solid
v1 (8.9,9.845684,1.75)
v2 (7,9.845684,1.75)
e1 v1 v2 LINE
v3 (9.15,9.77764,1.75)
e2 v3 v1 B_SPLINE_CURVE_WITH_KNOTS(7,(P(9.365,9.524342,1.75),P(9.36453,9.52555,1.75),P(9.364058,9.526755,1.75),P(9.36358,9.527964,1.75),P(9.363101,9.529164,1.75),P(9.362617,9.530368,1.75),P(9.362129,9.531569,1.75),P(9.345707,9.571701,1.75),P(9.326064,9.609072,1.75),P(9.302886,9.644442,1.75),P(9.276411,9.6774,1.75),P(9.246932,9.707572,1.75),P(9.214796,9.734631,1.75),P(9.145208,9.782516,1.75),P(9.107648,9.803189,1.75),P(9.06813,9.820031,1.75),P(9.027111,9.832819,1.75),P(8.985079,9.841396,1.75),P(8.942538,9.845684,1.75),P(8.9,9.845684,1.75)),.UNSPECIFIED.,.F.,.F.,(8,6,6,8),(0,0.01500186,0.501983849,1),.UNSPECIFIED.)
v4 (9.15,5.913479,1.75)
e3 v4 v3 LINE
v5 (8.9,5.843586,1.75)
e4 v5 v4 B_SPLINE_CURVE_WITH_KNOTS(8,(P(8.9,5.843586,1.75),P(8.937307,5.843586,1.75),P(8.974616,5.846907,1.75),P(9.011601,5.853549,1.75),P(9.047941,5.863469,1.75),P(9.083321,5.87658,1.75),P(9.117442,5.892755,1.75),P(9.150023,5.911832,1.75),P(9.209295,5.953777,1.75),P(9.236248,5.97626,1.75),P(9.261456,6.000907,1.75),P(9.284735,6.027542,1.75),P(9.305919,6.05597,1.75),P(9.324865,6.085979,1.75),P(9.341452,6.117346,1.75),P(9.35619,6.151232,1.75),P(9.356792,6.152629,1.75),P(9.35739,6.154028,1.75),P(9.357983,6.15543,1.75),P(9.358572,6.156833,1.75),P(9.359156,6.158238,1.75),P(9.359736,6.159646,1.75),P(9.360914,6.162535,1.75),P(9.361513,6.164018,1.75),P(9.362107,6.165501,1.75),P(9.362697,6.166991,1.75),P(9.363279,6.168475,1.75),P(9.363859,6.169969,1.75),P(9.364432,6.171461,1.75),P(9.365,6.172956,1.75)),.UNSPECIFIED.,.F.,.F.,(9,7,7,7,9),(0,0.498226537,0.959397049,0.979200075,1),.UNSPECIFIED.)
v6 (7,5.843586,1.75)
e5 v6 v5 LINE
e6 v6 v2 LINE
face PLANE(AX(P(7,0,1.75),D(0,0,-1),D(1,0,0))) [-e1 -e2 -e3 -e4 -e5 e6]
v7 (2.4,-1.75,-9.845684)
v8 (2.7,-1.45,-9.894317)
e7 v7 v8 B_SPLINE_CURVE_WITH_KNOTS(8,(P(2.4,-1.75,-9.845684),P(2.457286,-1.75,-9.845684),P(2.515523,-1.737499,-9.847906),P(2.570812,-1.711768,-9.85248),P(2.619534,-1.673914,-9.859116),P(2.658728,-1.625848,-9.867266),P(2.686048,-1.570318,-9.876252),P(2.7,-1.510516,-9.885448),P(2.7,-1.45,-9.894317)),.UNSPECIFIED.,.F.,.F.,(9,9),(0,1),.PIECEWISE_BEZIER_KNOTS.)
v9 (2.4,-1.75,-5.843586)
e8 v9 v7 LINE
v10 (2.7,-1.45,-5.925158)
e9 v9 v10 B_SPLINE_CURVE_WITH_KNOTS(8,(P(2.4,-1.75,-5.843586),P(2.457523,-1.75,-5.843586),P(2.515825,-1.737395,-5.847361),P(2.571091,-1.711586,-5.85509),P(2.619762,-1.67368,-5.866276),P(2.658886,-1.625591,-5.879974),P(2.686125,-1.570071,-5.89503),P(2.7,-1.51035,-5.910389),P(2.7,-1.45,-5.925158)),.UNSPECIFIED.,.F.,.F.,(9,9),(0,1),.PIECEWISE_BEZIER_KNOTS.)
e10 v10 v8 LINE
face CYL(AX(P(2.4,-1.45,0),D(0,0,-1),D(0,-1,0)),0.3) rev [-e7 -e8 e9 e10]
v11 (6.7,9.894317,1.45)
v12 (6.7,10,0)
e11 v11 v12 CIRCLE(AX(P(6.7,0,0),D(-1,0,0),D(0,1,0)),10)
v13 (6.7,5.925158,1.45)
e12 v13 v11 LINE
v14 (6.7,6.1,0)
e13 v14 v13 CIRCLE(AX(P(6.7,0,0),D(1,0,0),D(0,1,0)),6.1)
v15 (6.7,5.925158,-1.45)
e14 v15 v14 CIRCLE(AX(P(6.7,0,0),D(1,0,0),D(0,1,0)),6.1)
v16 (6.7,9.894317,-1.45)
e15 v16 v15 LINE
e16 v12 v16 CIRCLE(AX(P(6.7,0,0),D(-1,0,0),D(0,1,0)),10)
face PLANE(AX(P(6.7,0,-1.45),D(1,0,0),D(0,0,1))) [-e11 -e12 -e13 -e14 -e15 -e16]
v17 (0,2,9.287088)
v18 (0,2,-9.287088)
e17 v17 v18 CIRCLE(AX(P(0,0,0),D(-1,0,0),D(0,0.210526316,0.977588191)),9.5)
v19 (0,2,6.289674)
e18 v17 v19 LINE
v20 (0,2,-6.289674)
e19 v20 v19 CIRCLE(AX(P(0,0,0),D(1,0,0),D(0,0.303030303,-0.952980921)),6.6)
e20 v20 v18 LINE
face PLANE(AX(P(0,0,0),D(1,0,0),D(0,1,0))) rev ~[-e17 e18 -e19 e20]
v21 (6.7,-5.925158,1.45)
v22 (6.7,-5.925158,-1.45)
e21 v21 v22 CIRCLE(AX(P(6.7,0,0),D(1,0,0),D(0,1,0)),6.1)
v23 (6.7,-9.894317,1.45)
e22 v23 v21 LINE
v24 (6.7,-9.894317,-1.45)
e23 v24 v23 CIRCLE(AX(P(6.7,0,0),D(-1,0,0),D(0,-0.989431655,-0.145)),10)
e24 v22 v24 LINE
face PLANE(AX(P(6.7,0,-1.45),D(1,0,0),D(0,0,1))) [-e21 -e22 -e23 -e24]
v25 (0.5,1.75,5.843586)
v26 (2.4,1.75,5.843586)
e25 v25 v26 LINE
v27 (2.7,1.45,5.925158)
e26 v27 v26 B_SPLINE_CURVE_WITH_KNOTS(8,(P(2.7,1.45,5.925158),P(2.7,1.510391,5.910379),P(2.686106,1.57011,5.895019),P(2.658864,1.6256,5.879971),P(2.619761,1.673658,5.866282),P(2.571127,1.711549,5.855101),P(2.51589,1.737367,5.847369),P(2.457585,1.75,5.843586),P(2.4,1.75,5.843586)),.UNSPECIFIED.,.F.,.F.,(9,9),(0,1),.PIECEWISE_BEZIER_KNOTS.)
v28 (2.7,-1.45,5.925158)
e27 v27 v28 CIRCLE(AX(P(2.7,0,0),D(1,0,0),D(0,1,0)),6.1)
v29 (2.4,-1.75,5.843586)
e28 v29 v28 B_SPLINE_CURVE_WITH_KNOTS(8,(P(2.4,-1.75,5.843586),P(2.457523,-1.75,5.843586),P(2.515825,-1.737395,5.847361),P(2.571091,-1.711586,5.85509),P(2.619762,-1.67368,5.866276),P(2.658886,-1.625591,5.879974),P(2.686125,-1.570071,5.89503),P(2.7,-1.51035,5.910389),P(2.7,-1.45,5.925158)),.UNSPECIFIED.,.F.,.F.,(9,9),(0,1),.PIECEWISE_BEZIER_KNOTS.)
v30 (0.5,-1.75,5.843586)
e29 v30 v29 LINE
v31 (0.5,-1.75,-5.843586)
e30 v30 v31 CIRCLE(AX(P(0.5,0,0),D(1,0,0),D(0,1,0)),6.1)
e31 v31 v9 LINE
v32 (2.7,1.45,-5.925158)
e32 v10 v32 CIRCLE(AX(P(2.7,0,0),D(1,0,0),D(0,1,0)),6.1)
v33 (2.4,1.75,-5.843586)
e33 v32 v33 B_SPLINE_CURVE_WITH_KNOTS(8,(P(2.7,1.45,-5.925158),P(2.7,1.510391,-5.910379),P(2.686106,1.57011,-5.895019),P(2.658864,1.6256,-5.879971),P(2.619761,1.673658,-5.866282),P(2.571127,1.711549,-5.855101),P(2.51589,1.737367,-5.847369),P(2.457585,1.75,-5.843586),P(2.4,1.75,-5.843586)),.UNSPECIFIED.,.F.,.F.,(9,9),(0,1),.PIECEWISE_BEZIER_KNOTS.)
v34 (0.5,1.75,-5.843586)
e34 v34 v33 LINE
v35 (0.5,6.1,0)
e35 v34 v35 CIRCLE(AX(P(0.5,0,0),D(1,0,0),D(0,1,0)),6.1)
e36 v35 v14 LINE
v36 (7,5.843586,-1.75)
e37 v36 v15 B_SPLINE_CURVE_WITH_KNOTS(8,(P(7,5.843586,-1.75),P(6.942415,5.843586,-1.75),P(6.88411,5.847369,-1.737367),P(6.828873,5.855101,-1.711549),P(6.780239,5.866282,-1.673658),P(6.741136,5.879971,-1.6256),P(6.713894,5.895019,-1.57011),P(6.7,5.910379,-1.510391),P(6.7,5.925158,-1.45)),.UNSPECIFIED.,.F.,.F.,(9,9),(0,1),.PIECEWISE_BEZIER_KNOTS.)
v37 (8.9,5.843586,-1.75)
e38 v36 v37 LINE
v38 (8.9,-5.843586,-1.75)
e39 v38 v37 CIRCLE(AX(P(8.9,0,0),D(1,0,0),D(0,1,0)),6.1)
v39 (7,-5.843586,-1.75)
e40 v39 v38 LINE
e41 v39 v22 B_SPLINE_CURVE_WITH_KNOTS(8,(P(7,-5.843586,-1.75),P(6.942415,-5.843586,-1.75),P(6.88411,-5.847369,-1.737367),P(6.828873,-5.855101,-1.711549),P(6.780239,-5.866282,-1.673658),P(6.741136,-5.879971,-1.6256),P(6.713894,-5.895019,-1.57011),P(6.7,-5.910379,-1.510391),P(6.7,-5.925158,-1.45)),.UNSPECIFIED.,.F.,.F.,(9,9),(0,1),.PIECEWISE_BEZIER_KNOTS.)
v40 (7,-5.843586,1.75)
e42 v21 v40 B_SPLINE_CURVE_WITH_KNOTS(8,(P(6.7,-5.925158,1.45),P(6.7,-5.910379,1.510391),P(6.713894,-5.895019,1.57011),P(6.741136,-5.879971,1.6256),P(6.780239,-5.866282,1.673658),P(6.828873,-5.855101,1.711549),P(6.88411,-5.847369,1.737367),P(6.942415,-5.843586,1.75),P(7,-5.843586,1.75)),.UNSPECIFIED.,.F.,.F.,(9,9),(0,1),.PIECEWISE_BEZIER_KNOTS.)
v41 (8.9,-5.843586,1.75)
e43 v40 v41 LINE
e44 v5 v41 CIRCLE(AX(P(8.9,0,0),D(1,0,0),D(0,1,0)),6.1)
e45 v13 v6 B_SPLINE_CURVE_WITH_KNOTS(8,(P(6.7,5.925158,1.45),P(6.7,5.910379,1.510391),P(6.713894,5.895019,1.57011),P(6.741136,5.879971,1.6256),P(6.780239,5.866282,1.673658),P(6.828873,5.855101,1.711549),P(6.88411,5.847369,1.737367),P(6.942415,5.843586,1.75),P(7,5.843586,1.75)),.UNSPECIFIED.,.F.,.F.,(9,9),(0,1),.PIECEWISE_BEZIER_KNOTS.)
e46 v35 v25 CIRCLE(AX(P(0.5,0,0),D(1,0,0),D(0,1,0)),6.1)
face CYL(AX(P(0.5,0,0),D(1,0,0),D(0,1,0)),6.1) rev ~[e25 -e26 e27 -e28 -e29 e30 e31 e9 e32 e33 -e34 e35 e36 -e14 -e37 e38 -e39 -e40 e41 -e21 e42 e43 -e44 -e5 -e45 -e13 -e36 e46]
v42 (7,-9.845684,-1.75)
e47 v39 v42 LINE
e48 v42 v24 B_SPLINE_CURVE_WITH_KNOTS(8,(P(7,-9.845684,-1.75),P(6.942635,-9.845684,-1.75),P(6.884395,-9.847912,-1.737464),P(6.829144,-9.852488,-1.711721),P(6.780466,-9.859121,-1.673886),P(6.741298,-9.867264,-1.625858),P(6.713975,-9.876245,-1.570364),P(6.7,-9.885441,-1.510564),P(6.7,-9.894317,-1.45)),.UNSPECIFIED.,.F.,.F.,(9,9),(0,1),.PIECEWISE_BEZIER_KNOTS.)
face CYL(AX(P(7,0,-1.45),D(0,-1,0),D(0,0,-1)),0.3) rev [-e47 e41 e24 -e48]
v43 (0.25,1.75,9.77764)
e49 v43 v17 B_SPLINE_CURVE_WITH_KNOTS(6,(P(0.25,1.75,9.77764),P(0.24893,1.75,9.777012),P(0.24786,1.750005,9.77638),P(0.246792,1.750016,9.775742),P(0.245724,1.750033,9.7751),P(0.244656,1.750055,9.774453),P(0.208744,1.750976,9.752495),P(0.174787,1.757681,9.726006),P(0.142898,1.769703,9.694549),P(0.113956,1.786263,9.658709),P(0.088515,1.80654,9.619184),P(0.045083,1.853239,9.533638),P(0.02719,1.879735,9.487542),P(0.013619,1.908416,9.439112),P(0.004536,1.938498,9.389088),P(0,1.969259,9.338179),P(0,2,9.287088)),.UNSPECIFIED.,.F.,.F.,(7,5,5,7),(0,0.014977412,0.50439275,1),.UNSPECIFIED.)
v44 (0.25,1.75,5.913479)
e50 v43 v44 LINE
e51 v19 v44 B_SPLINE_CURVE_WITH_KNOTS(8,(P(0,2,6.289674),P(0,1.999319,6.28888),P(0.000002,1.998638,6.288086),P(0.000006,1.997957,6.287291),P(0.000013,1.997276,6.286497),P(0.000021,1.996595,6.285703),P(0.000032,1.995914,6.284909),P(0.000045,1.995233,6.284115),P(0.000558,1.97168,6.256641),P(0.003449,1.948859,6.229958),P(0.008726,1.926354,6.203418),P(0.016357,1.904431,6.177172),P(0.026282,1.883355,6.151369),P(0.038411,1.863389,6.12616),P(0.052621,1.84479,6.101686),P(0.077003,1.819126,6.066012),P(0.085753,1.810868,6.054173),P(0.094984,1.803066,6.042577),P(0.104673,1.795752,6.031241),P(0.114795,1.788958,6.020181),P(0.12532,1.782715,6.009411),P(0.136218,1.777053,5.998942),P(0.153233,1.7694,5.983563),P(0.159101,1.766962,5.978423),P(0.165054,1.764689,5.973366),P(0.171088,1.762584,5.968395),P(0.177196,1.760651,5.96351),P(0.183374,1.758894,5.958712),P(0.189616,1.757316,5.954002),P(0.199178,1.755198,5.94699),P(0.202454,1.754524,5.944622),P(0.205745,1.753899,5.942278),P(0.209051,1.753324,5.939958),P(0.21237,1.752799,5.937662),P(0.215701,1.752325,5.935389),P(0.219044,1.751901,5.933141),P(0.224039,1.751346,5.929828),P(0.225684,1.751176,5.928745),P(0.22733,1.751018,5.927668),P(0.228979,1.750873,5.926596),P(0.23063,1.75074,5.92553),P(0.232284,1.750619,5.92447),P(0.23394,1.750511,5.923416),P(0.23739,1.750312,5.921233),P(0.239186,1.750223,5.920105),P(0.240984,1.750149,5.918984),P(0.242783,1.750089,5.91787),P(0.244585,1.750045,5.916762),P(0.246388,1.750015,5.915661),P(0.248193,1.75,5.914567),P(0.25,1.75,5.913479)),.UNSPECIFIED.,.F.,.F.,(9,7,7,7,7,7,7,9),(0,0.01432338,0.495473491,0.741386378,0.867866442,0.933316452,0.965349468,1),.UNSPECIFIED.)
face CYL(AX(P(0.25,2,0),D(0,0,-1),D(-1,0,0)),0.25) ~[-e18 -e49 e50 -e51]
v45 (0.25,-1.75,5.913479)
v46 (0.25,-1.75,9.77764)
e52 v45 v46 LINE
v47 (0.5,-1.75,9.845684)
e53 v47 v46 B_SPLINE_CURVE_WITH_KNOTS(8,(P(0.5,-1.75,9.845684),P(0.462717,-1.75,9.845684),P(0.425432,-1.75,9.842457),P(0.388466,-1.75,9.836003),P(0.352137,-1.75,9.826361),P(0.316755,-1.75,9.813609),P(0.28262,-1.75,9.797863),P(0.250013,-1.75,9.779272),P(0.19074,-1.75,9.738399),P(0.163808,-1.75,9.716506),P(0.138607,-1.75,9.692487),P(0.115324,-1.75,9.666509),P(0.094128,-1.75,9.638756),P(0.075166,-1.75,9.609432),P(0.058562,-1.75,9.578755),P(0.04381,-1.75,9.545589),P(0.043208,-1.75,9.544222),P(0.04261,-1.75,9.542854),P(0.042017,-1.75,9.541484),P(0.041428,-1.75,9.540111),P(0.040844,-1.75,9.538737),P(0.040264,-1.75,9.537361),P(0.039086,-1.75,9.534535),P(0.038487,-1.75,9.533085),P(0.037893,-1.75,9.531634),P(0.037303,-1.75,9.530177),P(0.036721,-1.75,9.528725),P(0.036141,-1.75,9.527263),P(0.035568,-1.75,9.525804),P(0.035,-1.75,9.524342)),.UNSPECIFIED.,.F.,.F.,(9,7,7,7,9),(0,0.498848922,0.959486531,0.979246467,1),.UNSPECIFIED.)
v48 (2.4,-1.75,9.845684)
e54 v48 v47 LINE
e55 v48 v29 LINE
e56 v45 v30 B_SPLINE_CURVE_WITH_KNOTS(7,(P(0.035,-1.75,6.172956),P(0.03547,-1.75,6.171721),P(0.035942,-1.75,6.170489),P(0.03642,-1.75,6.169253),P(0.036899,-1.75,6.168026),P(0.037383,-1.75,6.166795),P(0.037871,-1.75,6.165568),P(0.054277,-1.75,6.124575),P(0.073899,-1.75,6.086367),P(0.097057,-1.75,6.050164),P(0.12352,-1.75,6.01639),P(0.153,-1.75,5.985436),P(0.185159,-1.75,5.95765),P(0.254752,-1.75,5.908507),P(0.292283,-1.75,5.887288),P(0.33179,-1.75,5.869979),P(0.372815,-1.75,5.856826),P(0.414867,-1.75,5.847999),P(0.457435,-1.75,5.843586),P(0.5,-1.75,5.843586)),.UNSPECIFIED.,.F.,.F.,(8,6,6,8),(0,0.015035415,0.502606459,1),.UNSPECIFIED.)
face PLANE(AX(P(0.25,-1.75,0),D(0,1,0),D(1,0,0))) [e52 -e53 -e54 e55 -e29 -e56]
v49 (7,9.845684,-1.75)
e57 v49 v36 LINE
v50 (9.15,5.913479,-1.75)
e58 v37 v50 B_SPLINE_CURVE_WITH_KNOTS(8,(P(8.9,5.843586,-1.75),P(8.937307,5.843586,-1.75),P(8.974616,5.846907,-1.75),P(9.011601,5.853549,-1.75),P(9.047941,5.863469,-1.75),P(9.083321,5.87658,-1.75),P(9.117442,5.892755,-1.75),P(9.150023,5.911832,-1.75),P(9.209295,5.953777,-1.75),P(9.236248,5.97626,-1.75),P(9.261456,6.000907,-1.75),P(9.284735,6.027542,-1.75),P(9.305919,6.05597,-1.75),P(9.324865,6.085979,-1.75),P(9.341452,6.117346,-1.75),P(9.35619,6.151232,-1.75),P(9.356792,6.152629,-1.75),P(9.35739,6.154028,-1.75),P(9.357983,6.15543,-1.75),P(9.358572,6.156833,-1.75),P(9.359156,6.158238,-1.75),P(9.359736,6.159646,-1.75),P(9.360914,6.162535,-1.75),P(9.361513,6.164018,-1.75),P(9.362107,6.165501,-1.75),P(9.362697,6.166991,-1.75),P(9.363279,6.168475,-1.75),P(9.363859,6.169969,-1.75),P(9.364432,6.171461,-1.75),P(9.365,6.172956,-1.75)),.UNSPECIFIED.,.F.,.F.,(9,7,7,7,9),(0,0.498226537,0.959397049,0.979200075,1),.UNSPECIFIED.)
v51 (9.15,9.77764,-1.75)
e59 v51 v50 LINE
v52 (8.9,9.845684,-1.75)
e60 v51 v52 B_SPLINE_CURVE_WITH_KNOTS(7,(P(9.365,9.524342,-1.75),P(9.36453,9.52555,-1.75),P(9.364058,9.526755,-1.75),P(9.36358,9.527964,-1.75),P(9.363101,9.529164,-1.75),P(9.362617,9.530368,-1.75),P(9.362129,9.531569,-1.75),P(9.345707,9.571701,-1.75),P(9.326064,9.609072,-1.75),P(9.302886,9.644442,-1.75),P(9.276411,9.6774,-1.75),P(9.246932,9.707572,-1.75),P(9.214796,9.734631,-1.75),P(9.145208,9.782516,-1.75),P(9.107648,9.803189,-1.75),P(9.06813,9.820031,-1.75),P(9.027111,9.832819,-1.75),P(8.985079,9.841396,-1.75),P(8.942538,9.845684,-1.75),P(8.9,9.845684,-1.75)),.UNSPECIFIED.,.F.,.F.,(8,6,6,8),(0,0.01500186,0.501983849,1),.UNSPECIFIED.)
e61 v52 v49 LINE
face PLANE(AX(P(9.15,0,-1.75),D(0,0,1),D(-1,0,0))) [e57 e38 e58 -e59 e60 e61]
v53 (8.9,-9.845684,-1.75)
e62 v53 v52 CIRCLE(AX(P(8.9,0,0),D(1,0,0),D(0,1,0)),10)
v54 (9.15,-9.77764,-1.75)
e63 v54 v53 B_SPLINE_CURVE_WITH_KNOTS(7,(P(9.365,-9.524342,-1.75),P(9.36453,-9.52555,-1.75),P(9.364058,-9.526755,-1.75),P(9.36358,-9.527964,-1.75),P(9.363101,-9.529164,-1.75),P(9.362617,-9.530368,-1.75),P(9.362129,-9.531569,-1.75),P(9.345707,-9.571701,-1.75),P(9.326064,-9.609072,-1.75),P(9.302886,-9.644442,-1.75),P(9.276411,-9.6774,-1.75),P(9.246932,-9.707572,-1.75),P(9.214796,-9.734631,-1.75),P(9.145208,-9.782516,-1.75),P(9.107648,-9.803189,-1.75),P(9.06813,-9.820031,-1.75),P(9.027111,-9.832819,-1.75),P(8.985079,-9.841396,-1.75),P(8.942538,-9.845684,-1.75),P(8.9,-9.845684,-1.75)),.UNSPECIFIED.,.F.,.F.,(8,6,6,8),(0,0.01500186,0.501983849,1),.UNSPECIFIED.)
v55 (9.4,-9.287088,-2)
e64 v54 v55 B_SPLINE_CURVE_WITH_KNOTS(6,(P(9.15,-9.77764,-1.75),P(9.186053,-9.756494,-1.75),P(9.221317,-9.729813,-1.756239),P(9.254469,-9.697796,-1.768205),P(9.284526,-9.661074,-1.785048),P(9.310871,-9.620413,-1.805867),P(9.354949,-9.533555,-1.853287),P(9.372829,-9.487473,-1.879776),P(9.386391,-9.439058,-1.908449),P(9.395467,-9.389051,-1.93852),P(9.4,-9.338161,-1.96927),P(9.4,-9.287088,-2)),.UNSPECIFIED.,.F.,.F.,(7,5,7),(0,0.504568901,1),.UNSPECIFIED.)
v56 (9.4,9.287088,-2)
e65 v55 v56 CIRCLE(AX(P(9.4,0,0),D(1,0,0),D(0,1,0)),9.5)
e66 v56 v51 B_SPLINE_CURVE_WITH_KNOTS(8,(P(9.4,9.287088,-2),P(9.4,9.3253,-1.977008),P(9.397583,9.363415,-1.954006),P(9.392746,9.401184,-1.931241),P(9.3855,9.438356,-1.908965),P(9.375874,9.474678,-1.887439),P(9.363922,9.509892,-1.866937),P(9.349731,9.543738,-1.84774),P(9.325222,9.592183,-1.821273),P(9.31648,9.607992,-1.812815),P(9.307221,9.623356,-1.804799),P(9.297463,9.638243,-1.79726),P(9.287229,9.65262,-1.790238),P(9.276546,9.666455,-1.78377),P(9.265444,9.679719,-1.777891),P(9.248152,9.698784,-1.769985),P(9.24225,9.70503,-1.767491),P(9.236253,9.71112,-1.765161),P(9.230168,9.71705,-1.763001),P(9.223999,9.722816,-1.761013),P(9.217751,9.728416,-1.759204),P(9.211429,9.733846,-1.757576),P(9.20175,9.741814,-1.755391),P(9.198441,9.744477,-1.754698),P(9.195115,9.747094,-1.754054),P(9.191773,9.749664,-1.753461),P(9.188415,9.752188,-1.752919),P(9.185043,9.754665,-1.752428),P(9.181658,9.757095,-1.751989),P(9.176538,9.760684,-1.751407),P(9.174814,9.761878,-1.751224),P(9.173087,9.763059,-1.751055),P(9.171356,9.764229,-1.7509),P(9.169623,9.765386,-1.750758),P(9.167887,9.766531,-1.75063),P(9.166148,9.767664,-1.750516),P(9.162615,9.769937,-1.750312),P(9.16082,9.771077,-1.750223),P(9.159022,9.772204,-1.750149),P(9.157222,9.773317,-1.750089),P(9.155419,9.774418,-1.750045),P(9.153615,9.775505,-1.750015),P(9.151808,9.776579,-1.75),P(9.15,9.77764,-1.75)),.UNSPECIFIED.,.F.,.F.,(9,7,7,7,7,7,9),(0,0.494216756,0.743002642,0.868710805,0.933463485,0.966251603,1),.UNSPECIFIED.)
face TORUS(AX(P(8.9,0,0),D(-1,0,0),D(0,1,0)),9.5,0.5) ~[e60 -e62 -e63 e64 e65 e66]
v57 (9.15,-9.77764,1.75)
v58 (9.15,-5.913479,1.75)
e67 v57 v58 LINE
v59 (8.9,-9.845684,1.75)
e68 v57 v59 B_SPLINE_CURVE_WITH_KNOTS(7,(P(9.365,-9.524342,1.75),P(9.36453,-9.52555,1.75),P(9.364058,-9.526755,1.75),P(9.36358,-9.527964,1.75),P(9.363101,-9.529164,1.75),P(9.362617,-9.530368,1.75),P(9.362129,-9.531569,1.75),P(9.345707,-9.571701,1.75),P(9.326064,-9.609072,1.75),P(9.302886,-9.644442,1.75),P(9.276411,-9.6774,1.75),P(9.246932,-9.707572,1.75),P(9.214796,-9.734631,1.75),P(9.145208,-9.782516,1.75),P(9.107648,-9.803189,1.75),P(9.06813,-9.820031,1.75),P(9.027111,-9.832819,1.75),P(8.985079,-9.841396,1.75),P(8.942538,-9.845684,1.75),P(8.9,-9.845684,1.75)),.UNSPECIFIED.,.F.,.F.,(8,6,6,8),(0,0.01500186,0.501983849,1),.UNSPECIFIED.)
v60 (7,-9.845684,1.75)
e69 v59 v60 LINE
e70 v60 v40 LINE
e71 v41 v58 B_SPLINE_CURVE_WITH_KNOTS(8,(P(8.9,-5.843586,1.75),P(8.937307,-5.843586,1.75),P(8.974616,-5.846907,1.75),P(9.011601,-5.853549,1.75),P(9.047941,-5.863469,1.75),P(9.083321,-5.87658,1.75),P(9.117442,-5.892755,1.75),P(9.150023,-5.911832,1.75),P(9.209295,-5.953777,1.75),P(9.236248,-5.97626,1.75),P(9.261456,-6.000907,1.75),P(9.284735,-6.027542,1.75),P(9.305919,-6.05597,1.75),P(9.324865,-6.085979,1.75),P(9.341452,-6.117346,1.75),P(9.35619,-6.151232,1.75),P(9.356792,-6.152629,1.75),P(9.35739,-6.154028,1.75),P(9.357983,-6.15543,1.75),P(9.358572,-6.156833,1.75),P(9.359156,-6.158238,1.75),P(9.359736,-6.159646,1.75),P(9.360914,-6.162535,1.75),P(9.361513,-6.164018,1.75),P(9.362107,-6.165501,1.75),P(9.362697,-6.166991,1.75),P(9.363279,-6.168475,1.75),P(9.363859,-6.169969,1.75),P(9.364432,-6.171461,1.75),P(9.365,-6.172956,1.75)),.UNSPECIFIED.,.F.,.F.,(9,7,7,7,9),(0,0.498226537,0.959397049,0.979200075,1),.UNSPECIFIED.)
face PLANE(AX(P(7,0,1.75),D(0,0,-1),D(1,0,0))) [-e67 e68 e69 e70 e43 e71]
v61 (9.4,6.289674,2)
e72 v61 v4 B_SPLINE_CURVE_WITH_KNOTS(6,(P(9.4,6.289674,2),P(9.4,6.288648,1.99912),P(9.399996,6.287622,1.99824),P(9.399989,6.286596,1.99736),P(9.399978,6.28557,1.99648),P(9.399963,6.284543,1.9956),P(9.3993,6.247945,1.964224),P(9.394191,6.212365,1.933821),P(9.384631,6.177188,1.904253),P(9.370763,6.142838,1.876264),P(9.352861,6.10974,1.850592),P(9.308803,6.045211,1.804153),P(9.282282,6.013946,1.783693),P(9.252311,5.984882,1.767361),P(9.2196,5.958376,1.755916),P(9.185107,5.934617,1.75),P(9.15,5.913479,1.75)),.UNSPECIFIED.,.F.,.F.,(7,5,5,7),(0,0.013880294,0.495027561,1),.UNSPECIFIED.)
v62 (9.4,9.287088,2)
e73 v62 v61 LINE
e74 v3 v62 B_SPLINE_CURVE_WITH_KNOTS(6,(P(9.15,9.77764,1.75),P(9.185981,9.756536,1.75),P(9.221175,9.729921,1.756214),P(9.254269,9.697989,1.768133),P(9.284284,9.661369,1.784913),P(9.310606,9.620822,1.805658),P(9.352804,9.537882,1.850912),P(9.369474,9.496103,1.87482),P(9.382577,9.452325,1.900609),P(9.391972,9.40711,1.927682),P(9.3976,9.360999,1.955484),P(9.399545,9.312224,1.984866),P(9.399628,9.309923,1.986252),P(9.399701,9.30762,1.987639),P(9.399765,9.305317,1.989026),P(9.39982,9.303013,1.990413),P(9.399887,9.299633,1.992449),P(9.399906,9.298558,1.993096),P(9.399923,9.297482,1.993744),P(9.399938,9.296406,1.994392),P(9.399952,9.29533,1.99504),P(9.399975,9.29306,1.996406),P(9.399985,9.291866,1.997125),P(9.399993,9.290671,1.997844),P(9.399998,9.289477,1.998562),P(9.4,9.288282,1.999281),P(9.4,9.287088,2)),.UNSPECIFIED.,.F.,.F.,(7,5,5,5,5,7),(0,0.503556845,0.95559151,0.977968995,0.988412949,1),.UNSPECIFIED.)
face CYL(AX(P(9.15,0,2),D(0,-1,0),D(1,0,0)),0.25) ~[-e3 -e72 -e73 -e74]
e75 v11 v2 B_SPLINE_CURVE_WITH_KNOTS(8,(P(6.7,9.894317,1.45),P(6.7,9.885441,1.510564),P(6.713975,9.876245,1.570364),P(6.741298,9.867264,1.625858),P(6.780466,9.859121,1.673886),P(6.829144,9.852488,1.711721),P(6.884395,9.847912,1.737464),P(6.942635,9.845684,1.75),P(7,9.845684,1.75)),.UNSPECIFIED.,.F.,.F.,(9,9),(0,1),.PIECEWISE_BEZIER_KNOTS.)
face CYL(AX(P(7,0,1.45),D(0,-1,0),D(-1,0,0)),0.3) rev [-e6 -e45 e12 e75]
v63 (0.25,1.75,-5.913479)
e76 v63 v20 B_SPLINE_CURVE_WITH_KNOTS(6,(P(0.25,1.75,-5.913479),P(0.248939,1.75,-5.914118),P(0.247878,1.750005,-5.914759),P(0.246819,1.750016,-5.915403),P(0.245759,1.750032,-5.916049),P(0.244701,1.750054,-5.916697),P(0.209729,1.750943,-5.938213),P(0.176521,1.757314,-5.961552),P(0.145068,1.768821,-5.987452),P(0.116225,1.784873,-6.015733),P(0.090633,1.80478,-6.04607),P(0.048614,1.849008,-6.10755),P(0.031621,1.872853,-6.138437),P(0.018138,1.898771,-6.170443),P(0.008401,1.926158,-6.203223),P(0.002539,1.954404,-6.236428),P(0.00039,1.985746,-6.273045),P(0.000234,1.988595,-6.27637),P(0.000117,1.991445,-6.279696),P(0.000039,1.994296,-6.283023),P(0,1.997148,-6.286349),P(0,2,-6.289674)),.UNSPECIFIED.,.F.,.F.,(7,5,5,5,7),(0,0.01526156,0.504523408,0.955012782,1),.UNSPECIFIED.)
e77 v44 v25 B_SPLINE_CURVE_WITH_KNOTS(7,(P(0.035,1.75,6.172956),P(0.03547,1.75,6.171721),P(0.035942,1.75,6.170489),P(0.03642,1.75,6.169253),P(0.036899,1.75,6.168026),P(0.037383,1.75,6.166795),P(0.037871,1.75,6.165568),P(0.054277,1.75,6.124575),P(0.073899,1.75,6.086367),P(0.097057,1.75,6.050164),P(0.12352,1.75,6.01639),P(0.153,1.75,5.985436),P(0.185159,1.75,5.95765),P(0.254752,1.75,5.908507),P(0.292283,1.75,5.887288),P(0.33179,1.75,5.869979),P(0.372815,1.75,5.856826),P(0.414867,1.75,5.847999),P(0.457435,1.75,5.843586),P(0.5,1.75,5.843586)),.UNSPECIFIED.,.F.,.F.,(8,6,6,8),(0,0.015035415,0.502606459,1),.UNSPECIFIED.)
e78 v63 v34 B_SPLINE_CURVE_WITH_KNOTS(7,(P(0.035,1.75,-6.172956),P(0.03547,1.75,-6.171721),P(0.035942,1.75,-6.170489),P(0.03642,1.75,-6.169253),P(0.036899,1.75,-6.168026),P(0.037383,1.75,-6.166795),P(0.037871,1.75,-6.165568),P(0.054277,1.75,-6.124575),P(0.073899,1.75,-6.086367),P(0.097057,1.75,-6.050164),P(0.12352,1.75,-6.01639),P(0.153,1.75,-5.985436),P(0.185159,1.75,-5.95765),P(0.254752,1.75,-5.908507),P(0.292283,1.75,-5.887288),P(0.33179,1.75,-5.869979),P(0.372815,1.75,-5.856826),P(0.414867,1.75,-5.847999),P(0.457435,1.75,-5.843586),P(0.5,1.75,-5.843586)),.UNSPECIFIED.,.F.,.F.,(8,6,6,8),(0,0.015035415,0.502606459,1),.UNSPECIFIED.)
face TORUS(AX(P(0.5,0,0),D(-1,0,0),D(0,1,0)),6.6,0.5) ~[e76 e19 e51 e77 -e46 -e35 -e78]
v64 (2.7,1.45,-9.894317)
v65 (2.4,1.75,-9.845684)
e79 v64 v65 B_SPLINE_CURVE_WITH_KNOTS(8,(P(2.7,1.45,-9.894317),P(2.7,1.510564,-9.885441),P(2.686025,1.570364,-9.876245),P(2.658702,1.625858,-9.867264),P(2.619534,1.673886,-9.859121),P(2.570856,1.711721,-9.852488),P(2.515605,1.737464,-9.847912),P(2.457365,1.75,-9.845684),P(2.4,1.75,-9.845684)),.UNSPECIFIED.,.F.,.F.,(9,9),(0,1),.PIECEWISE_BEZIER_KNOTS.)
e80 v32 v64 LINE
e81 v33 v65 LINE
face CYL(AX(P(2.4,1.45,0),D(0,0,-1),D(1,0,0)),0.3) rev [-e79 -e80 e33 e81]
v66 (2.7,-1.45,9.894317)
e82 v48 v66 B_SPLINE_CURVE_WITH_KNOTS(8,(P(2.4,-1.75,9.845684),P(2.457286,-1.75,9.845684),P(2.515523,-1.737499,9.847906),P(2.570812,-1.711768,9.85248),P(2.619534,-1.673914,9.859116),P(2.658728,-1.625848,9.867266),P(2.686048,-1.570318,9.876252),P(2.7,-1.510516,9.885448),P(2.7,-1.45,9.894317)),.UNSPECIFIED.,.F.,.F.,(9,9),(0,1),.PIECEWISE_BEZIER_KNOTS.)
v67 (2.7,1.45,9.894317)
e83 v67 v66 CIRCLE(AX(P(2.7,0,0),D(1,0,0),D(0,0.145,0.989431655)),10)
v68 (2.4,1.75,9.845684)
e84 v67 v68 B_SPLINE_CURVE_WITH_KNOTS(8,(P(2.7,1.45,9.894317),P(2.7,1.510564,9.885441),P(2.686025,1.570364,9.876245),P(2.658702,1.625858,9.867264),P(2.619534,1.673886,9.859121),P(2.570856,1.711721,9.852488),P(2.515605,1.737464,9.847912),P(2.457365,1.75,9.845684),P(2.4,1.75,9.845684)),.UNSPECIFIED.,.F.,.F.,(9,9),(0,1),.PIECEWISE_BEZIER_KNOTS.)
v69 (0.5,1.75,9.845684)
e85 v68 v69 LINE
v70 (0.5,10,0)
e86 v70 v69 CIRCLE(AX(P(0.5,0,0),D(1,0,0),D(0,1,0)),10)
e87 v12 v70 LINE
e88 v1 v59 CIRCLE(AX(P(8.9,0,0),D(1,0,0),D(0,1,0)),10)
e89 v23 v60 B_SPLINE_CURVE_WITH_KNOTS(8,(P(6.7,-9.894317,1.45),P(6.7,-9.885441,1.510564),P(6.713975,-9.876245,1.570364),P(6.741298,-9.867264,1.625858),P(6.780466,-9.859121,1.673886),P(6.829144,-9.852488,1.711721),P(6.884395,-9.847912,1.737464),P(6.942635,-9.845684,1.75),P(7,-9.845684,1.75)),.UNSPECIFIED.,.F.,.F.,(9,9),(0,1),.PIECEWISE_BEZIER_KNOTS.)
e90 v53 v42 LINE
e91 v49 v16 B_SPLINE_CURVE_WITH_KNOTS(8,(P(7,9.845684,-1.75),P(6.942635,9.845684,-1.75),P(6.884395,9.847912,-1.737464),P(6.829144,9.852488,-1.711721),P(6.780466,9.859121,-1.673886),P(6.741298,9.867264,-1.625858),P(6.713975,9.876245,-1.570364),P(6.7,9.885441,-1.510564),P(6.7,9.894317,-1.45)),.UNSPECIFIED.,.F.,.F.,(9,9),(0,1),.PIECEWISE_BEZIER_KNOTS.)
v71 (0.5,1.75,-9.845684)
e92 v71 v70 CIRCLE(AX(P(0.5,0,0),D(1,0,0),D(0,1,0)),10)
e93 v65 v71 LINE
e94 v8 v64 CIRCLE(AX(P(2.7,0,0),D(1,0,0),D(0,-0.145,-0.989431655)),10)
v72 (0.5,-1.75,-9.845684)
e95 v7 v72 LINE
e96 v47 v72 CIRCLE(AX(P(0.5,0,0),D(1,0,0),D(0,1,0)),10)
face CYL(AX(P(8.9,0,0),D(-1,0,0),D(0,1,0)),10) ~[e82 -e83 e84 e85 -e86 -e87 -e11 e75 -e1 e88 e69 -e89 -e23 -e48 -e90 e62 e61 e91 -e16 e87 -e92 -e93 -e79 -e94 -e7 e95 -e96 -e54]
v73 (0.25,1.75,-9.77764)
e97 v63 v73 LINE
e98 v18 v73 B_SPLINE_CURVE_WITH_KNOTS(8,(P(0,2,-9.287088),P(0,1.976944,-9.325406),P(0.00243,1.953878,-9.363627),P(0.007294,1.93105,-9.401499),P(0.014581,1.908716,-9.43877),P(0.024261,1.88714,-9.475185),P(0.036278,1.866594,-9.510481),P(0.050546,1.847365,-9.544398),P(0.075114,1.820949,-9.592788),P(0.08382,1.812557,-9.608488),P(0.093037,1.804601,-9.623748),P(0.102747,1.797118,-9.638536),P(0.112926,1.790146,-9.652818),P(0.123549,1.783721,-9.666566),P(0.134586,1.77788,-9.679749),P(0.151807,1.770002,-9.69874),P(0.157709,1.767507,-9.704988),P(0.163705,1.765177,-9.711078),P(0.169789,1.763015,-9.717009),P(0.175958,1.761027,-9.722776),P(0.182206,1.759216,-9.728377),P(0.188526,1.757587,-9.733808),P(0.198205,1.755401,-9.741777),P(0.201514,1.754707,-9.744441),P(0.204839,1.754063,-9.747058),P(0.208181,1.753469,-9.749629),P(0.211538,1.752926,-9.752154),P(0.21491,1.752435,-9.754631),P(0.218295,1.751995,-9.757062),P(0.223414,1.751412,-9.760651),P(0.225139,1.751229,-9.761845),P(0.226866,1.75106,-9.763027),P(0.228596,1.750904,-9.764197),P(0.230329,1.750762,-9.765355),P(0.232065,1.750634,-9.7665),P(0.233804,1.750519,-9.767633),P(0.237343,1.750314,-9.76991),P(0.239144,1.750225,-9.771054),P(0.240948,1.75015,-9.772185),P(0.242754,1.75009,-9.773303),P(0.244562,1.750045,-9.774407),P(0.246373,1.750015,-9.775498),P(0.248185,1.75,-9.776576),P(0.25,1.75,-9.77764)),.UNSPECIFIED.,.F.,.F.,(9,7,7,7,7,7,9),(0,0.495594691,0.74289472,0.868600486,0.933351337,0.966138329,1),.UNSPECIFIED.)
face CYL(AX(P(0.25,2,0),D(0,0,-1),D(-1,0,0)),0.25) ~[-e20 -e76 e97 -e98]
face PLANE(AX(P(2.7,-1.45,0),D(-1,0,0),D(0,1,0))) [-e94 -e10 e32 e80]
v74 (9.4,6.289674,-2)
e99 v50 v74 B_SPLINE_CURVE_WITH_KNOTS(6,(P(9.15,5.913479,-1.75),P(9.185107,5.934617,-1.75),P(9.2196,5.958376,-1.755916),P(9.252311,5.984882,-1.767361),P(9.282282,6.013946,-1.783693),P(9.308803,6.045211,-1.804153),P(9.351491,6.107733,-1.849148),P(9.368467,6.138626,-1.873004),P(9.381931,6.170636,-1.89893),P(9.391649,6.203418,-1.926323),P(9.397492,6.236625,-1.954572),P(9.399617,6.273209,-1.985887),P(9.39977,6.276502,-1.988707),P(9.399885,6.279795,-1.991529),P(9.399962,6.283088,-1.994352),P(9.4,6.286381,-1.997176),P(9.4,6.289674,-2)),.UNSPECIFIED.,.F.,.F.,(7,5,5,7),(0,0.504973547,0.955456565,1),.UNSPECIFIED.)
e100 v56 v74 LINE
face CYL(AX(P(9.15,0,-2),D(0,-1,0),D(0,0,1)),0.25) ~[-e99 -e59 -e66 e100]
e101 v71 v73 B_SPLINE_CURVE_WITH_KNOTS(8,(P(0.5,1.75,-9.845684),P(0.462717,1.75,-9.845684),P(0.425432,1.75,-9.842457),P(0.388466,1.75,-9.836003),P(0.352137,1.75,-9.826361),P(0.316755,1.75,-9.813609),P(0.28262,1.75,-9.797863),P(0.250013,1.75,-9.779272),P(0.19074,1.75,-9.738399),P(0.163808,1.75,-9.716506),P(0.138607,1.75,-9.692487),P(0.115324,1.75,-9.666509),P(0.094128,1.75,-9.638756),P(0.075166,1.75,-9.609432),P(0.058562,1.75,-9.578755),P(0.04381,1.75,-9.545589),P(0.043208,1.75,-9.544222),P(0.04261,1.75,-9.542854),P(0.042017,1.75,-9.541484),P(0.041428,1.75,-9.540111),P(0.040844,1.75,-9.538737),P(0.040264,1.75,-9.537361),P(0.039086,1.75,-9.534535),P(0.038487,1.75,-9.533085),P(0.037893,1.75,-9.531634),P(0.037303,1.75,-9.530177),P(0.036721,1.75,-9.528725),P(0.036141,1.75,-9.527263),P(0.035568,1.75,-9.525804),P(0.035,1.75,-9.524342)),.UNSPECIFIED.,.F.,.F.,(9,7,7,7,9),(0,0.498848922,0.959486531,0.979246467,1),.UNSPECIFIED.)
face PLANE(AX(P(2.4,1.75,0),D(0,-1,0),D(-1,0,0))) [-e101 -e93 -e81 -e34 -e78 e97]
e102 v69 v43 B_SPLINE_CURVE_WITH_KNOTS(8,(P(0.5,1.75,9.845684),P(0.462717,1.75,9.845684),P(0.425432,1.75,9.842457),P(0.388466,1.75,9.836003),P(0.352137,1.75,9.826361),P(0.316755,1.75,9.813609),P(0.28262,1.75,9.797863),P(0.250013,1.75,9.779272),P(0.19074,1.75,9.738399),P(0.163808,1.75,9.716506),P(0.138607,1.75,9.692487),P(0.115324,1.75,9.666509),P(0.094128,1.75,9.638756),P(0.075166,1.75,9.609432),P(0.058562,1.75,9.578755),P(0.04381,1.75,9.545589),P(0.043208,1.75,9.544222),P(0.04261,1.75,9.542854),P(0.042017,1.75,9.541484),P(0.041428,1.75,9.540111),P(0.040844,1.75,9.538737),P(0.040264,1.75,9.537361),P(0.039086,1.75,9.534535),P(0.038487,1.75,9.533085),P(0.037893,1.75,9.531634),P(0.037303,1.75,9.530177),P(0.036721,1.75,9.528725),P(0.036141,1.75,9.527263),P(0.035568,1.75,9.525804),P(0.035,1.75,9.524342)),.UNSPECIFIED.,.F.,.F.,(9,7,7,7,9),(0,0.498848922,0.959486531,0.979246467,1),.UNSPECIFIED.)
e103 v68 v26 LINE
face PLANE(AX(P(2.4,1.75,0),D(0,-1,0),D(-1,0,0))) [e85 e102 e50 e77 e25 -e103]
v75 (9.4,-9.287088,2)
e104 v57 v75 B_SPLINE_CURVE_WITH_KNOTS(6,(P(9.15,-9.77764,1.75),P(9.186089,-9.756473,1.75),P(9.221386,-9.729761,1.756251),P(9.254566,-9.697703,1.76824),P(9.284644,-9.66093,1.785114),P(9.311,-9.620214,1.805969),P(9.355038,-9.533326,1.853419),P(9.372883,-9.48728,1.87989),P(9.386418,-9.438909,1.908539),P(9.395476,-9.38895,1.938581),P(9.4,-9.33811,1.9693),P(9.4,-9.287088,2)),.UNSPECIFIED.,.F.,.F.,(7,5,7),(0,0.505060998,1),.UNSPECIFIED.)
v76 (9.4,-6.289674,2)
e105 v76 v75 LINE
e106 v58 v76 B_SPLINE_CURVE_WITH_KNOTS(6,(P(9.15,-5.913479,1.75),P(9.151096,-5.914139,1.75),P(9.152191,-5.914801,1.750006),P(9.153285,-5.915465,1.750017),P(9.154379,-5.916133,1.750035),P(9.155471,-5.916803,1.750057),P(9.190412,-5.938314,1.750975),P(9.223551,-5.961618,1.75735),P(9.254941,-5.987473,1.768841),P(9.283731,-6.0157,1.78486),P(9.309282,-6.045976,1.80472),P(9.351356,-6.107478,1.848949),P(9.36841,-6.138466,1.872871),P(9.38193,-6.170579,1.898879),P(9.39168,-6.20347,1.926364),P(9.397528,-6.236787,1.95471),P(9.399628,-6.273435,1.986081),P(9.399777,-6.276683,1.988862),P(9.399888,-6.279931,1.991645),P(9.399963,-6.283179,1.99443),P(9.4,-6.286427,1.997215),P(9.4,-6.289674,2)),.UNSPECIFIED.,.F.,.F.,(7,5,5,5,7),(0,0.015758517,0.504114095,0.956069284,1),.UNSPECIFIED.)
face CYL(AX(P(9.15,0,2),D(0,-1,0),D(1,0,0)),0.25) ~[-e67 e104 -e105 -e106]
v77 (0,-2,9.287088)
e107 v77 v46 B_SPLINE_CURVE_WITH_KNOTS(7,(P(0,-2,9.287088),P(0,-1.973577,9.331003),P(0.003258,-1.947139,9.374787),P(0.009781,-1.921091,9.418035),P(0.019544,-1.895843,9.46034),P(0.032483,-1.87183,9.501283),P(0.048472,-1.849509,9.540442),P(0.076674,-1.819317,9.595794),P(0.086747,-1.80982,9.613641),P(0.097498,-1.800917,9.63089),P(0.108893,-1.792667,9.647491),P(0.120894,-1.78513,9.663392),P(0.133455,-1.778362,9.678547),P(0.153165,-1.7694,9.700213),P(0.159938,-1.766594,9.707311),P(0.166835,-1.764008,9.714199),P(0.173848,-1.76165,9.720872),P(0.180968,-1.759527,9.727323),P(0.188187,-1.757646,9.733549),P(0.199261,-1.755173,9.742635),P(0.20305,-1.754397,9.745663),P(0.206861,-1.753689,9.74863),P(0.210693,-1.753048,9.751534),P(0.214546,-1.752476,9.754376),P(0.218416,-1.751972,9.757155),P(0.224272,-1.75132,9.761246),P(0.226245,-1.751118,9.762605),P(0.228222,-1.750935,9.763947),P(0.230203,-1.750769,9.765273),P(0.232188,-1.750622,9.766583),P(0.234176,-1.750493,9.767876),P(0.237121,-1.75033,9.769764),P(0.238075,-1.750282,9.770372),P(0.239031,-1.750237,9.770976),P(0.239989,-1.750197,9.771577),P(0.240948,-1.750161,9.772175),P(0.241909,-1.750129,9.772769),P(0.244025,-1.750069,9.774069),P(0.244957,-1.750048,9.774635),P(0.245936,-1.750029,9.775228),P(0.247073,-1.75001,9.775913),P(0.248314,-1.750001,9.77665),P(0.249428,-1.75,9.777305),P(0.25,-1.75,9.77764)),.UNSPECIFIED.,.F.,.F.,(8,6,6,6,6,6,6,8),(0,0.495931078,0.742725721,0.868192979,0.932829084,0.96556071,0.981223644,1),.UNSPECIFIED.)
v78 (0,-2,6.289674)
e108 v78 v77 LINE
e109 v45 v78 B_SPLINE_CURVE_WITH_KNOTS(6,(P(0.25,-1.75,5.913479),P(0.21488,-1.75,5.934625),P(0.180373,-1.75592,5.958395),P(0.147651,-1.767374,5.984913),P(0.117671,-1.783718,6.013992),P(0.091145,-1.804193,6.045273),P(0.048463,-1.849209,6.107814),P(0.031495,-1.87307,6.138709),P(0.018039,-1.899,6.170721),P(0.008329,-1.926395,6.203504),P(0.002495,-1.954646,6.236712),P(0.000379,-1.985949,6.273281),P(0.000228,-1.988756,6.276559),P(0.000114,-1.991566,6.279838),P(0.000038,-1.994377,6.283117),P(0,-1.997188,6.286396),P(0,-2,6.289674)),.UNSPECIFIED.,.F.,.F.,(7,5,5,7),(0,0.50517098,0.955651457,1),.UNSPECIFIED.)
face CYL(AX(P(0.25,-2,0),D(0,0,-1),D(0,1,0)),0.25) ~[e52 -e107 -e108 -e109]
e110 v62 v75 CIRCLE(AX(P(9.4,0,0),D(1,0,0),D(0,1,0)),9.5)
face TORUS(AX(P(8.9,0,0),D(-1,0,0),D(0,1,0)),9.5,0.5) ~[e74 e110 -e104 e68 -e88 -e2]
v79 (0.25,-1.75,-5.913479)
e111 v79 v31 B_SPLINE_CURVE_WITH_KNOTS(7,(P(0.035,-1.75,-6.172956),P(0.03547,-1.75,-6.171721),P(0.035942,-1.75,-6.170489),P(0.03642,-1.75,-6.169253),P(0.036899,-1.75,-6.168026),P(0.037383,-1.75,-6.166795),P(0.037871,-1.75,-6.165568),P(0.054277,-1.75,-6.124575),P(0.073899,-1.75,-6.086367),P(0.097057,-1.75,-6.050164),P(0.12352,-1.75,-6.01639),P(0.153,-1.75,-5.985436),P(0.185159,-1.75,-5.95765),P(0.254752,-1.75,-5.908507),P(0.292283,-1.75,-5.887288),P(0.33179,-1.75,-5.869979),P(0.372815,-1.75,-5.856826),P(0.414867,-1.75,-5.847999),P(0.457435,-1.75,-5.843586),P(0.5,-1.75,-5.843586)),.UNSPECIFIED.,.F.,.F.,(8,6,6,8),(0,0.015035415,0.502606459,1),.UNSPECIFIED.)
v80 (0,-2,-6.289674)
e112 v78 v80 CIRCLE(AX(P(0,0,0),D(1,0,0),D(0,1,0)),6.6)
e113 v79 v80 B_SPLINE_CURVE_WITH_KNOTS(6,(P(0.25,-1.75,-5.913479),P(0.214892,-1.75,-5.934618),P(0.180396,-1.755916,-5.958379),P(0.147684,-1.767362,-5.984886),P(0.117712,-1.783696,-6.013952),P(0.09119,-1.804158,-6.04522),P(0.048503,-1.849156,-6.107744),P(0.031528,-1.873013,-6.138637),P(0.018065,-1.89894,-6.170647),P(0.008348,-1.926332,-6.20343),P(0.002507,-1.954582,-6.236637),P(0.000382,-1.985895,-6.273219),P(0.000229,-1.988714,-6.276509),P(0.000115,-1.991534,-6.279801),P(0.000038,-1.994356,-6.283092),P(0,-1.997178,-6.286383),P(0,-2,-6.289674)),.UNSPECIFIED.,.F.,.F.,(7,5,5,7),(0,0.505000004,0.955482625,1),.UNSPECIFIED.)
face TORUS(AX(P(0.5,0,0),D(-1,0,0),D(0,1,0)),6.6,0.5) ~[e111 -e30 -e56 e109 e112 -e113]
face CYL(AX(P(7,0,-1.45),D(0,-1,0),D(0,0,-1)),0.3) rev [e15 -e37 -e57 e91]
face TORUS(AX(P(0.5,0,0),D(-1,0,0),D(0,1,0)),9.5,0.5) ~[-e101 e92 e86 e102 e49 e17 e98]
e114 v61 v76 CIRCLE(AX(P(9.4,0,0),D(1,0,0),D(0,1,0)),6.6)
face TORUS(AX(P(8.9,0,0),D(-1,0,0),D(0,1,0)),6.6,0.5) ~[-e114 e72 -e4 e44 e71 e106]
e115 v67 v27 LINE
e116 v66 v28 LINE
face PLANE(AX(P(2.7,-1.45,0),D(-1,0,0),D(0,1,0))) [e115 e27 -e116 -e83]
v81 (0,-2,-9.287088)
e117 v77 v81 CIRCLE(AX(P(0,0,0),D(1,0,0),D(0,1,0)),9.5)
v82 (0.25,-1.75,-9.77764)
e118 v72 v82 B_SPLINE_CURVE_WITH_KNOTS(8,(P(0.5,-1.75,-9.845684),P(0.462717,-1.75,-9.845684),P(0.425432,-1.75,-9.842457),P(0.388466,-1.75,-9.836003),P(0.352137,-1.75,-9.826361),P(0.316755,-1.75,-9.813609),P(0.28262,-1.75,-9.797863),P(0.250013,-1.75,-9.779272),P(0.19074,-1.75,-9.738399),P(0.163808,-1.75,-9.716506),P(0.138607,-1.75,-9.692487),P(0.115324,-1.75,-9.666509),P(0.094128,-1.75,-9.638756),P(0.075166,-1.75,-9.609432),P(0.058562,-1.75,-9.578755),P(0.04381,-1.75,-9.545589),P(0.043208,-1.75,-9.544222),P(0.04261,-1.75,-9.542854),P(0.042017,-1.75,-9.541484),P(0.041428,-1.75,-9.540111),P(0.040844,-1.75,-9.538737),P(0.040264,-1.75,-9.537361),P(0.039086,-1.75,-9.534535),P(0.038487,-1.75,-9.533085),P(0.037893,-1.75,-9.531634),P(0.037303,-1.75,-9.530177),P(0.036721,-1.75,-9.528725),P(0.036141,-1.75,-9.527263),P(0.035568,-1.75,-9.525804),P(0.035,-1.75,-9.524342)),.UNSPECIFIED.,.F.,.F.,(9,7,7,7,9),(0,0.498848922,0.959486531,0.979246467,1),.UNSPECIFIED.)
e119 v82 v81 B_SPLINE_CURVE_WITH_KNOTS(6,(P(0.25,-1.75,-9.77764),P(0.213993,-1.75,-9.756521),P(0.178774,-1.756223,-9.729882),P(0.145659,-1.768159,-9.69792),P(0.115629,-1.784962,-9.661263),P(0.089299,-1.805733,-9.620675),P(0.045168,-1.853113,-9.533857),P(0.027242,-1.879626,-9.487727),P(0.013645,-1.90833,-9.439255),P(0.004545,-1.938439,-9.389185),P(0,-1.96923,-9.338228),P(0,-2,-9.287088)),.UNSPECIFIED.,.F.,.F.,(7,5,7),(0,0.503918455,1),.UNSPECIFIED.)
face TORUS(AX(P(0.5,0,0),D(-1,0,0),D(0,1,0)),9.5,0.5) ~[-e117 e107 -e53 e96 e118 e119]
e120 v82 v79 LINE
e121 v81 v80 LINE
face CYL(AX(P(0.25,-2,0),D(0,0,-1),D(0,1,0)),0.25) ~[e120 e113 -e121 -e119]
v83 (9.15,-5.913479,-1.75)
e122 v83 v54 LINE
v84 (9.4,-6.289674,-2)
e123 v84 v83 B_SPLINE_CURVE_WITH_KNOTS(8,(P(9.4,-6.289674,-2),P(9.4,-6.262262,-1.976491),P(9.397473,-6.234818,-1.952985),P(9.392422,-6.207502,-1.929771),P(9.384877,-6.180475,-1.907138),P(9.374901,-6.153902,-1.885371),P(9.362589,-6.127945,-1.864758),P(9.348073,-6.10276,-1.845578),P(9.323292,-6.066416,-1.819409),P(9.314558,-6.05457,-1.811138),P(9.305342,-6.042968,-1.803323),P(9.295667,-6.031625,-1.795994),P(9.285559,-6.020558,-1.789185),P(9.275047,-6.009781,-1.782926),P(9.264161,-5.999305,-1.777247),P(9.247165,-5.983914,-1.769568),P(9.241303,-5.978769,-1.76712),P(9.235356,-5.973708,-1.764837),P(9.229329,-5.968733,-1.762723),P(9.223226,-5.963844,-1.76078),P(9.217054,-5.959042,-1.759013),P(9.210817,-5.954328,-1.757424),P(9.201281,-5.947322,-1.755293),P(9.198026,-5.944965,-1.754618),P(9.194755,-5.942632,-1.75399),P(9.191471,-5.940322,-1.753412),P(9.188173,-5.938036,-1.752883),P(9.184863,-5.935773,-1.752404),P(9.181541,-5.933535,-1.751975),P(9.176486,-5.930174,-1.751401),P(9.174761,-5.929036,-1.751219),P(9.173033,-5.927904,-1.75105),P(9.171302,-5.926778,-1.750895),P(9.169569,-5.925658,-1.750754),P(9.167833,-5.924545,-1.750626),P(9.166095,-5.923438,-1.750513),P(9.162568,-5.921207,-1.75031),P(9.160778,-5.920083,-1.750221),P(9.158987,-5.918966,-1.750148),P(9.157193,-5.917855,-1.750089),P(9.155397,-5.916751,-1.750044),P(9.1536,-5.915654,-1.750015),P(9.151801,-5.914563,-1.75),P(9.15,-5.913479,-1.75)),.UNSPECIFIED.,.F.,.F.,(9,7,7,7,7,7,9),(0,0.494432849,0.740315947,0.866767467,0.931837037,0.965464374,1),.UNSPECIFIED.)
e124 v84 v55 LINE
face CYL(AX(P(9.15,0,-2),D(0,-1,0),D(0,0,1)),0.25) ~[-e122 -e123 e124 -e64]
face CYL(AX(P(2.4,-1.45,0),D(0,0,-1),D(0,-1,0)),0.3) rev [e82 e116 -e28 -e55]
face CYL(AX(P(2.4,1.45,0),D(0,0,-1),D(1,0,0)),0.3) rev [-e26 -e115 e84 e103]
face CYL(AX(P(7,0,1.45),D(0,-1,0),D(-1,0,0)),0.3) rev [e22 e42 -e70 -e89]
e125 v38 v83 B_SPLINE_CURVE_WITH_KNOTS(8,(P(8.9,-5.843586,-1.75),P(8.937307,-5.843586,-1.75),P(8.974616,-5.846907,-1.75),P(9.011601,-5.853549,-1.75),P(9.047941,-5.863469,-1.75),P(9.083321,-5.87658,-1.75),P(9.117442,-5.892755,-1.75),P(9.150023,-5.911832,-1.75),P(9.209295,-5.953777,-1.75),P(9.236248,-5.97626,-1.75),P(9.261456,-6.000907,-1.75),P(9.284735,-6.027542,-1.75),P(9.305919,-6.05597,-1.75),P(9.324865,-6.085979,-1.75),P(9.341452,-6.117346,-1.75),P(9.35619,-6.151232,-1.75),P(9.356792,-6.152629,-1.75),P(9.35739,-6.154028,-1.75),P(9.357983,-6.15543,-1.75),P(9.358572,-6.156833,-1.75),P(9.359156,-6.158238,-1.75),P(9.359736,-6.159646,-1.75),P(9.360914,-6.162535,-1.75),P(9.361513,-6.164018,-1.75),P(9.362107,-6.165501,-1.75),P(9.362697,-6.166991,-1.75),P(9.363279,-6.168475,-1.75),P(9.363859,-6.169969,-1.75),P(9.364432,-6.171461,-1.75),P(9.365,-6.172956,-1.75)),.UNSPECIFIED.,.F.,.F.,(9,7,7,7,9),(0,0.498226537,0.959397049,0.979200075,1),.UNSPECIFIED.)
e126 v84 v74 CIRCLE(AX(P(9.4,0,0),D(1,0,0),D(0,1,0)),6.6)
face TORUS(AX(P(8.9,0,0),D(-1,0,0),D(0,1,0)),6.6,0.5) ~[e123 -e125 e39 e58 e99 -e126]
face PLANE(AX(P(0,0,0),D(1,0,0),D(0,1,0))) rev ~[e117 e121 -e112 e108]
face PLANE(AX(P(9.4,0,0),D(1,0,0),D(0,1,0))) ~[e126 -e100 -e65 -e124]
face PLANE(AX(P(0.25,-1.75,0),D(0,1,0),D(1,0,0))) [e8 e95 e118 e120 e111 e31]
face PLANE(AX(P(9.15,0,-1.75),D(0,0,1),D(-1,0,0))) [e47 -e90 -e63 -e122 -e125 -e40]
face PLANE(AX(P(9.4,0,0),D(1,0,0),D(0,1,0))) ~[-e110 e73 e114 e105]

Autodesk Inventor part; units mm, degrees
sketch "Sketch_1" plane through (0, 0, 0) normal (0, 0, 1) x (1, 0, 0)
  line L0 (9.4, 0) -> (0, 0)
  arc A0 (0, 6.6) -> (0.5, 6.1) centre (0.5, 6.6) ccw
  line L1 (0.5, 6.1) -> (8.9, 6.1)
  arc A1 (8.9, 6.1) -> (9.4, 6.6) centre (8.9, 6.6) ccw
  line L2 (9.4, 6.6) -> (9.4, 9.5)
  arc A2 (9.4, 9.5) -> (8.9, 10) centre (8.9, 9.5) ccw
  line L3 (8.9, 10) -> (0.5, 10)
  arc A3 (0.5, 10) -> (0, 9.5) centre (0.5, 9.5) ccw
  line L4 (0, 9.5) -> (0, 6.6)
revolve "Revolution1" add sketch "Sketch_1" angle 360 about axis through (9.4, 0, 0) along (1, 0, 0)
sketch "Sketch_2" plane through (0, 0, 0) normal (0, 0, 1) x (1, 0, 0)
  line L0 (-1, -2) -> (0, -2)
  arc A0 (0.25, -1.75) -> (0, -2) centre (0.25, -2) ccw
  line L1 (0.25, -1.75) -> (2.4, -1.75)
  arc A1 (2.4, -1.75) -> (2.7, -1.45) centre (2.4, -1.45) ccw
  line L2 (2.7, -1.45) -> (2.7, 1.45)
  arc A2 (2.7, 1.45) -> (2.4, 1.75) centre (2.4, 1.45) ccw
  line L3 (2.4, 1.75) -> (0.25, 1.75)
  arc A3 (0, 2) -> (0.25, 1.75) centre (0.25, 2) ccw
  line L4 (0, 2) -> (-1, 2)
  line L5 (-1, 2) -> (-1, -2)
extrude "Extrusion1" cut sketch "Sketch_2" along normal mid plane 20
sketch "Sketch_3" plane through (0, 0, 0) normal (0, 1, 0) x (-1, 0, 0)
  arc A0 (-6.7, 1.45) -> (-7, 1.75) centre (-7, 1.45) ccw
  line L0 (-7, 1.75) -> (-9.15, 1.75)
  arc A1 (-9.4, 2) -> (-9.15, 1.75) centre (-9.15, 2) ccw
  line L1 (-9.4, 2) -> (-10.4, 2)
  line L2 (-10.4, 2) -> (-10.4, -2)
  line L3 (-10.4, -2) -> (-9.4, -2)
  arc A2 (-9.15, -1.75) -> (-9.4, -2) centre (-9.15, -2) ccw
  line L4 (-9.15, -1.75) -> (-7, -1.75)
  arc A3 (-7, -1.75) -> (-6.7, -1.45) centre (-7, -1.45) ccw
  line L5 (-6.7, -1.45) -> (-6.7, 1.45)
extrude "Extrusion2" cut sketch "Sketch_3" along normal mid plane 20
ref_plane "p2_p1_XY" through (0, 0, 0) normal (1, 0, 0) x (0, 0, -1)
ref_plane "p2_p1_YZ" through (0, 0, 0) normal (0, 0, -1) x (0, 1, 0)
ref_plane "p2_p1_ZX" through (0, 0, 0) normal (0, 1, 0) x (1, 0, 0)
ref_plane "p2_p3_XY" through (9.4, 0, 0) normal (-1, 0, 0) x (0, 0, -1)
ref_plane "p2_p3_YZ" through (9.4, 0, 0) normal (0, 0, -1) x (0, -1, 0)
ref_plane "p2_p3_ZX" through (9.4, 0, 0) normal (0, -1, 0) x (-1, 0, 0)
properties part number "MOR-20C  Sleeve"
